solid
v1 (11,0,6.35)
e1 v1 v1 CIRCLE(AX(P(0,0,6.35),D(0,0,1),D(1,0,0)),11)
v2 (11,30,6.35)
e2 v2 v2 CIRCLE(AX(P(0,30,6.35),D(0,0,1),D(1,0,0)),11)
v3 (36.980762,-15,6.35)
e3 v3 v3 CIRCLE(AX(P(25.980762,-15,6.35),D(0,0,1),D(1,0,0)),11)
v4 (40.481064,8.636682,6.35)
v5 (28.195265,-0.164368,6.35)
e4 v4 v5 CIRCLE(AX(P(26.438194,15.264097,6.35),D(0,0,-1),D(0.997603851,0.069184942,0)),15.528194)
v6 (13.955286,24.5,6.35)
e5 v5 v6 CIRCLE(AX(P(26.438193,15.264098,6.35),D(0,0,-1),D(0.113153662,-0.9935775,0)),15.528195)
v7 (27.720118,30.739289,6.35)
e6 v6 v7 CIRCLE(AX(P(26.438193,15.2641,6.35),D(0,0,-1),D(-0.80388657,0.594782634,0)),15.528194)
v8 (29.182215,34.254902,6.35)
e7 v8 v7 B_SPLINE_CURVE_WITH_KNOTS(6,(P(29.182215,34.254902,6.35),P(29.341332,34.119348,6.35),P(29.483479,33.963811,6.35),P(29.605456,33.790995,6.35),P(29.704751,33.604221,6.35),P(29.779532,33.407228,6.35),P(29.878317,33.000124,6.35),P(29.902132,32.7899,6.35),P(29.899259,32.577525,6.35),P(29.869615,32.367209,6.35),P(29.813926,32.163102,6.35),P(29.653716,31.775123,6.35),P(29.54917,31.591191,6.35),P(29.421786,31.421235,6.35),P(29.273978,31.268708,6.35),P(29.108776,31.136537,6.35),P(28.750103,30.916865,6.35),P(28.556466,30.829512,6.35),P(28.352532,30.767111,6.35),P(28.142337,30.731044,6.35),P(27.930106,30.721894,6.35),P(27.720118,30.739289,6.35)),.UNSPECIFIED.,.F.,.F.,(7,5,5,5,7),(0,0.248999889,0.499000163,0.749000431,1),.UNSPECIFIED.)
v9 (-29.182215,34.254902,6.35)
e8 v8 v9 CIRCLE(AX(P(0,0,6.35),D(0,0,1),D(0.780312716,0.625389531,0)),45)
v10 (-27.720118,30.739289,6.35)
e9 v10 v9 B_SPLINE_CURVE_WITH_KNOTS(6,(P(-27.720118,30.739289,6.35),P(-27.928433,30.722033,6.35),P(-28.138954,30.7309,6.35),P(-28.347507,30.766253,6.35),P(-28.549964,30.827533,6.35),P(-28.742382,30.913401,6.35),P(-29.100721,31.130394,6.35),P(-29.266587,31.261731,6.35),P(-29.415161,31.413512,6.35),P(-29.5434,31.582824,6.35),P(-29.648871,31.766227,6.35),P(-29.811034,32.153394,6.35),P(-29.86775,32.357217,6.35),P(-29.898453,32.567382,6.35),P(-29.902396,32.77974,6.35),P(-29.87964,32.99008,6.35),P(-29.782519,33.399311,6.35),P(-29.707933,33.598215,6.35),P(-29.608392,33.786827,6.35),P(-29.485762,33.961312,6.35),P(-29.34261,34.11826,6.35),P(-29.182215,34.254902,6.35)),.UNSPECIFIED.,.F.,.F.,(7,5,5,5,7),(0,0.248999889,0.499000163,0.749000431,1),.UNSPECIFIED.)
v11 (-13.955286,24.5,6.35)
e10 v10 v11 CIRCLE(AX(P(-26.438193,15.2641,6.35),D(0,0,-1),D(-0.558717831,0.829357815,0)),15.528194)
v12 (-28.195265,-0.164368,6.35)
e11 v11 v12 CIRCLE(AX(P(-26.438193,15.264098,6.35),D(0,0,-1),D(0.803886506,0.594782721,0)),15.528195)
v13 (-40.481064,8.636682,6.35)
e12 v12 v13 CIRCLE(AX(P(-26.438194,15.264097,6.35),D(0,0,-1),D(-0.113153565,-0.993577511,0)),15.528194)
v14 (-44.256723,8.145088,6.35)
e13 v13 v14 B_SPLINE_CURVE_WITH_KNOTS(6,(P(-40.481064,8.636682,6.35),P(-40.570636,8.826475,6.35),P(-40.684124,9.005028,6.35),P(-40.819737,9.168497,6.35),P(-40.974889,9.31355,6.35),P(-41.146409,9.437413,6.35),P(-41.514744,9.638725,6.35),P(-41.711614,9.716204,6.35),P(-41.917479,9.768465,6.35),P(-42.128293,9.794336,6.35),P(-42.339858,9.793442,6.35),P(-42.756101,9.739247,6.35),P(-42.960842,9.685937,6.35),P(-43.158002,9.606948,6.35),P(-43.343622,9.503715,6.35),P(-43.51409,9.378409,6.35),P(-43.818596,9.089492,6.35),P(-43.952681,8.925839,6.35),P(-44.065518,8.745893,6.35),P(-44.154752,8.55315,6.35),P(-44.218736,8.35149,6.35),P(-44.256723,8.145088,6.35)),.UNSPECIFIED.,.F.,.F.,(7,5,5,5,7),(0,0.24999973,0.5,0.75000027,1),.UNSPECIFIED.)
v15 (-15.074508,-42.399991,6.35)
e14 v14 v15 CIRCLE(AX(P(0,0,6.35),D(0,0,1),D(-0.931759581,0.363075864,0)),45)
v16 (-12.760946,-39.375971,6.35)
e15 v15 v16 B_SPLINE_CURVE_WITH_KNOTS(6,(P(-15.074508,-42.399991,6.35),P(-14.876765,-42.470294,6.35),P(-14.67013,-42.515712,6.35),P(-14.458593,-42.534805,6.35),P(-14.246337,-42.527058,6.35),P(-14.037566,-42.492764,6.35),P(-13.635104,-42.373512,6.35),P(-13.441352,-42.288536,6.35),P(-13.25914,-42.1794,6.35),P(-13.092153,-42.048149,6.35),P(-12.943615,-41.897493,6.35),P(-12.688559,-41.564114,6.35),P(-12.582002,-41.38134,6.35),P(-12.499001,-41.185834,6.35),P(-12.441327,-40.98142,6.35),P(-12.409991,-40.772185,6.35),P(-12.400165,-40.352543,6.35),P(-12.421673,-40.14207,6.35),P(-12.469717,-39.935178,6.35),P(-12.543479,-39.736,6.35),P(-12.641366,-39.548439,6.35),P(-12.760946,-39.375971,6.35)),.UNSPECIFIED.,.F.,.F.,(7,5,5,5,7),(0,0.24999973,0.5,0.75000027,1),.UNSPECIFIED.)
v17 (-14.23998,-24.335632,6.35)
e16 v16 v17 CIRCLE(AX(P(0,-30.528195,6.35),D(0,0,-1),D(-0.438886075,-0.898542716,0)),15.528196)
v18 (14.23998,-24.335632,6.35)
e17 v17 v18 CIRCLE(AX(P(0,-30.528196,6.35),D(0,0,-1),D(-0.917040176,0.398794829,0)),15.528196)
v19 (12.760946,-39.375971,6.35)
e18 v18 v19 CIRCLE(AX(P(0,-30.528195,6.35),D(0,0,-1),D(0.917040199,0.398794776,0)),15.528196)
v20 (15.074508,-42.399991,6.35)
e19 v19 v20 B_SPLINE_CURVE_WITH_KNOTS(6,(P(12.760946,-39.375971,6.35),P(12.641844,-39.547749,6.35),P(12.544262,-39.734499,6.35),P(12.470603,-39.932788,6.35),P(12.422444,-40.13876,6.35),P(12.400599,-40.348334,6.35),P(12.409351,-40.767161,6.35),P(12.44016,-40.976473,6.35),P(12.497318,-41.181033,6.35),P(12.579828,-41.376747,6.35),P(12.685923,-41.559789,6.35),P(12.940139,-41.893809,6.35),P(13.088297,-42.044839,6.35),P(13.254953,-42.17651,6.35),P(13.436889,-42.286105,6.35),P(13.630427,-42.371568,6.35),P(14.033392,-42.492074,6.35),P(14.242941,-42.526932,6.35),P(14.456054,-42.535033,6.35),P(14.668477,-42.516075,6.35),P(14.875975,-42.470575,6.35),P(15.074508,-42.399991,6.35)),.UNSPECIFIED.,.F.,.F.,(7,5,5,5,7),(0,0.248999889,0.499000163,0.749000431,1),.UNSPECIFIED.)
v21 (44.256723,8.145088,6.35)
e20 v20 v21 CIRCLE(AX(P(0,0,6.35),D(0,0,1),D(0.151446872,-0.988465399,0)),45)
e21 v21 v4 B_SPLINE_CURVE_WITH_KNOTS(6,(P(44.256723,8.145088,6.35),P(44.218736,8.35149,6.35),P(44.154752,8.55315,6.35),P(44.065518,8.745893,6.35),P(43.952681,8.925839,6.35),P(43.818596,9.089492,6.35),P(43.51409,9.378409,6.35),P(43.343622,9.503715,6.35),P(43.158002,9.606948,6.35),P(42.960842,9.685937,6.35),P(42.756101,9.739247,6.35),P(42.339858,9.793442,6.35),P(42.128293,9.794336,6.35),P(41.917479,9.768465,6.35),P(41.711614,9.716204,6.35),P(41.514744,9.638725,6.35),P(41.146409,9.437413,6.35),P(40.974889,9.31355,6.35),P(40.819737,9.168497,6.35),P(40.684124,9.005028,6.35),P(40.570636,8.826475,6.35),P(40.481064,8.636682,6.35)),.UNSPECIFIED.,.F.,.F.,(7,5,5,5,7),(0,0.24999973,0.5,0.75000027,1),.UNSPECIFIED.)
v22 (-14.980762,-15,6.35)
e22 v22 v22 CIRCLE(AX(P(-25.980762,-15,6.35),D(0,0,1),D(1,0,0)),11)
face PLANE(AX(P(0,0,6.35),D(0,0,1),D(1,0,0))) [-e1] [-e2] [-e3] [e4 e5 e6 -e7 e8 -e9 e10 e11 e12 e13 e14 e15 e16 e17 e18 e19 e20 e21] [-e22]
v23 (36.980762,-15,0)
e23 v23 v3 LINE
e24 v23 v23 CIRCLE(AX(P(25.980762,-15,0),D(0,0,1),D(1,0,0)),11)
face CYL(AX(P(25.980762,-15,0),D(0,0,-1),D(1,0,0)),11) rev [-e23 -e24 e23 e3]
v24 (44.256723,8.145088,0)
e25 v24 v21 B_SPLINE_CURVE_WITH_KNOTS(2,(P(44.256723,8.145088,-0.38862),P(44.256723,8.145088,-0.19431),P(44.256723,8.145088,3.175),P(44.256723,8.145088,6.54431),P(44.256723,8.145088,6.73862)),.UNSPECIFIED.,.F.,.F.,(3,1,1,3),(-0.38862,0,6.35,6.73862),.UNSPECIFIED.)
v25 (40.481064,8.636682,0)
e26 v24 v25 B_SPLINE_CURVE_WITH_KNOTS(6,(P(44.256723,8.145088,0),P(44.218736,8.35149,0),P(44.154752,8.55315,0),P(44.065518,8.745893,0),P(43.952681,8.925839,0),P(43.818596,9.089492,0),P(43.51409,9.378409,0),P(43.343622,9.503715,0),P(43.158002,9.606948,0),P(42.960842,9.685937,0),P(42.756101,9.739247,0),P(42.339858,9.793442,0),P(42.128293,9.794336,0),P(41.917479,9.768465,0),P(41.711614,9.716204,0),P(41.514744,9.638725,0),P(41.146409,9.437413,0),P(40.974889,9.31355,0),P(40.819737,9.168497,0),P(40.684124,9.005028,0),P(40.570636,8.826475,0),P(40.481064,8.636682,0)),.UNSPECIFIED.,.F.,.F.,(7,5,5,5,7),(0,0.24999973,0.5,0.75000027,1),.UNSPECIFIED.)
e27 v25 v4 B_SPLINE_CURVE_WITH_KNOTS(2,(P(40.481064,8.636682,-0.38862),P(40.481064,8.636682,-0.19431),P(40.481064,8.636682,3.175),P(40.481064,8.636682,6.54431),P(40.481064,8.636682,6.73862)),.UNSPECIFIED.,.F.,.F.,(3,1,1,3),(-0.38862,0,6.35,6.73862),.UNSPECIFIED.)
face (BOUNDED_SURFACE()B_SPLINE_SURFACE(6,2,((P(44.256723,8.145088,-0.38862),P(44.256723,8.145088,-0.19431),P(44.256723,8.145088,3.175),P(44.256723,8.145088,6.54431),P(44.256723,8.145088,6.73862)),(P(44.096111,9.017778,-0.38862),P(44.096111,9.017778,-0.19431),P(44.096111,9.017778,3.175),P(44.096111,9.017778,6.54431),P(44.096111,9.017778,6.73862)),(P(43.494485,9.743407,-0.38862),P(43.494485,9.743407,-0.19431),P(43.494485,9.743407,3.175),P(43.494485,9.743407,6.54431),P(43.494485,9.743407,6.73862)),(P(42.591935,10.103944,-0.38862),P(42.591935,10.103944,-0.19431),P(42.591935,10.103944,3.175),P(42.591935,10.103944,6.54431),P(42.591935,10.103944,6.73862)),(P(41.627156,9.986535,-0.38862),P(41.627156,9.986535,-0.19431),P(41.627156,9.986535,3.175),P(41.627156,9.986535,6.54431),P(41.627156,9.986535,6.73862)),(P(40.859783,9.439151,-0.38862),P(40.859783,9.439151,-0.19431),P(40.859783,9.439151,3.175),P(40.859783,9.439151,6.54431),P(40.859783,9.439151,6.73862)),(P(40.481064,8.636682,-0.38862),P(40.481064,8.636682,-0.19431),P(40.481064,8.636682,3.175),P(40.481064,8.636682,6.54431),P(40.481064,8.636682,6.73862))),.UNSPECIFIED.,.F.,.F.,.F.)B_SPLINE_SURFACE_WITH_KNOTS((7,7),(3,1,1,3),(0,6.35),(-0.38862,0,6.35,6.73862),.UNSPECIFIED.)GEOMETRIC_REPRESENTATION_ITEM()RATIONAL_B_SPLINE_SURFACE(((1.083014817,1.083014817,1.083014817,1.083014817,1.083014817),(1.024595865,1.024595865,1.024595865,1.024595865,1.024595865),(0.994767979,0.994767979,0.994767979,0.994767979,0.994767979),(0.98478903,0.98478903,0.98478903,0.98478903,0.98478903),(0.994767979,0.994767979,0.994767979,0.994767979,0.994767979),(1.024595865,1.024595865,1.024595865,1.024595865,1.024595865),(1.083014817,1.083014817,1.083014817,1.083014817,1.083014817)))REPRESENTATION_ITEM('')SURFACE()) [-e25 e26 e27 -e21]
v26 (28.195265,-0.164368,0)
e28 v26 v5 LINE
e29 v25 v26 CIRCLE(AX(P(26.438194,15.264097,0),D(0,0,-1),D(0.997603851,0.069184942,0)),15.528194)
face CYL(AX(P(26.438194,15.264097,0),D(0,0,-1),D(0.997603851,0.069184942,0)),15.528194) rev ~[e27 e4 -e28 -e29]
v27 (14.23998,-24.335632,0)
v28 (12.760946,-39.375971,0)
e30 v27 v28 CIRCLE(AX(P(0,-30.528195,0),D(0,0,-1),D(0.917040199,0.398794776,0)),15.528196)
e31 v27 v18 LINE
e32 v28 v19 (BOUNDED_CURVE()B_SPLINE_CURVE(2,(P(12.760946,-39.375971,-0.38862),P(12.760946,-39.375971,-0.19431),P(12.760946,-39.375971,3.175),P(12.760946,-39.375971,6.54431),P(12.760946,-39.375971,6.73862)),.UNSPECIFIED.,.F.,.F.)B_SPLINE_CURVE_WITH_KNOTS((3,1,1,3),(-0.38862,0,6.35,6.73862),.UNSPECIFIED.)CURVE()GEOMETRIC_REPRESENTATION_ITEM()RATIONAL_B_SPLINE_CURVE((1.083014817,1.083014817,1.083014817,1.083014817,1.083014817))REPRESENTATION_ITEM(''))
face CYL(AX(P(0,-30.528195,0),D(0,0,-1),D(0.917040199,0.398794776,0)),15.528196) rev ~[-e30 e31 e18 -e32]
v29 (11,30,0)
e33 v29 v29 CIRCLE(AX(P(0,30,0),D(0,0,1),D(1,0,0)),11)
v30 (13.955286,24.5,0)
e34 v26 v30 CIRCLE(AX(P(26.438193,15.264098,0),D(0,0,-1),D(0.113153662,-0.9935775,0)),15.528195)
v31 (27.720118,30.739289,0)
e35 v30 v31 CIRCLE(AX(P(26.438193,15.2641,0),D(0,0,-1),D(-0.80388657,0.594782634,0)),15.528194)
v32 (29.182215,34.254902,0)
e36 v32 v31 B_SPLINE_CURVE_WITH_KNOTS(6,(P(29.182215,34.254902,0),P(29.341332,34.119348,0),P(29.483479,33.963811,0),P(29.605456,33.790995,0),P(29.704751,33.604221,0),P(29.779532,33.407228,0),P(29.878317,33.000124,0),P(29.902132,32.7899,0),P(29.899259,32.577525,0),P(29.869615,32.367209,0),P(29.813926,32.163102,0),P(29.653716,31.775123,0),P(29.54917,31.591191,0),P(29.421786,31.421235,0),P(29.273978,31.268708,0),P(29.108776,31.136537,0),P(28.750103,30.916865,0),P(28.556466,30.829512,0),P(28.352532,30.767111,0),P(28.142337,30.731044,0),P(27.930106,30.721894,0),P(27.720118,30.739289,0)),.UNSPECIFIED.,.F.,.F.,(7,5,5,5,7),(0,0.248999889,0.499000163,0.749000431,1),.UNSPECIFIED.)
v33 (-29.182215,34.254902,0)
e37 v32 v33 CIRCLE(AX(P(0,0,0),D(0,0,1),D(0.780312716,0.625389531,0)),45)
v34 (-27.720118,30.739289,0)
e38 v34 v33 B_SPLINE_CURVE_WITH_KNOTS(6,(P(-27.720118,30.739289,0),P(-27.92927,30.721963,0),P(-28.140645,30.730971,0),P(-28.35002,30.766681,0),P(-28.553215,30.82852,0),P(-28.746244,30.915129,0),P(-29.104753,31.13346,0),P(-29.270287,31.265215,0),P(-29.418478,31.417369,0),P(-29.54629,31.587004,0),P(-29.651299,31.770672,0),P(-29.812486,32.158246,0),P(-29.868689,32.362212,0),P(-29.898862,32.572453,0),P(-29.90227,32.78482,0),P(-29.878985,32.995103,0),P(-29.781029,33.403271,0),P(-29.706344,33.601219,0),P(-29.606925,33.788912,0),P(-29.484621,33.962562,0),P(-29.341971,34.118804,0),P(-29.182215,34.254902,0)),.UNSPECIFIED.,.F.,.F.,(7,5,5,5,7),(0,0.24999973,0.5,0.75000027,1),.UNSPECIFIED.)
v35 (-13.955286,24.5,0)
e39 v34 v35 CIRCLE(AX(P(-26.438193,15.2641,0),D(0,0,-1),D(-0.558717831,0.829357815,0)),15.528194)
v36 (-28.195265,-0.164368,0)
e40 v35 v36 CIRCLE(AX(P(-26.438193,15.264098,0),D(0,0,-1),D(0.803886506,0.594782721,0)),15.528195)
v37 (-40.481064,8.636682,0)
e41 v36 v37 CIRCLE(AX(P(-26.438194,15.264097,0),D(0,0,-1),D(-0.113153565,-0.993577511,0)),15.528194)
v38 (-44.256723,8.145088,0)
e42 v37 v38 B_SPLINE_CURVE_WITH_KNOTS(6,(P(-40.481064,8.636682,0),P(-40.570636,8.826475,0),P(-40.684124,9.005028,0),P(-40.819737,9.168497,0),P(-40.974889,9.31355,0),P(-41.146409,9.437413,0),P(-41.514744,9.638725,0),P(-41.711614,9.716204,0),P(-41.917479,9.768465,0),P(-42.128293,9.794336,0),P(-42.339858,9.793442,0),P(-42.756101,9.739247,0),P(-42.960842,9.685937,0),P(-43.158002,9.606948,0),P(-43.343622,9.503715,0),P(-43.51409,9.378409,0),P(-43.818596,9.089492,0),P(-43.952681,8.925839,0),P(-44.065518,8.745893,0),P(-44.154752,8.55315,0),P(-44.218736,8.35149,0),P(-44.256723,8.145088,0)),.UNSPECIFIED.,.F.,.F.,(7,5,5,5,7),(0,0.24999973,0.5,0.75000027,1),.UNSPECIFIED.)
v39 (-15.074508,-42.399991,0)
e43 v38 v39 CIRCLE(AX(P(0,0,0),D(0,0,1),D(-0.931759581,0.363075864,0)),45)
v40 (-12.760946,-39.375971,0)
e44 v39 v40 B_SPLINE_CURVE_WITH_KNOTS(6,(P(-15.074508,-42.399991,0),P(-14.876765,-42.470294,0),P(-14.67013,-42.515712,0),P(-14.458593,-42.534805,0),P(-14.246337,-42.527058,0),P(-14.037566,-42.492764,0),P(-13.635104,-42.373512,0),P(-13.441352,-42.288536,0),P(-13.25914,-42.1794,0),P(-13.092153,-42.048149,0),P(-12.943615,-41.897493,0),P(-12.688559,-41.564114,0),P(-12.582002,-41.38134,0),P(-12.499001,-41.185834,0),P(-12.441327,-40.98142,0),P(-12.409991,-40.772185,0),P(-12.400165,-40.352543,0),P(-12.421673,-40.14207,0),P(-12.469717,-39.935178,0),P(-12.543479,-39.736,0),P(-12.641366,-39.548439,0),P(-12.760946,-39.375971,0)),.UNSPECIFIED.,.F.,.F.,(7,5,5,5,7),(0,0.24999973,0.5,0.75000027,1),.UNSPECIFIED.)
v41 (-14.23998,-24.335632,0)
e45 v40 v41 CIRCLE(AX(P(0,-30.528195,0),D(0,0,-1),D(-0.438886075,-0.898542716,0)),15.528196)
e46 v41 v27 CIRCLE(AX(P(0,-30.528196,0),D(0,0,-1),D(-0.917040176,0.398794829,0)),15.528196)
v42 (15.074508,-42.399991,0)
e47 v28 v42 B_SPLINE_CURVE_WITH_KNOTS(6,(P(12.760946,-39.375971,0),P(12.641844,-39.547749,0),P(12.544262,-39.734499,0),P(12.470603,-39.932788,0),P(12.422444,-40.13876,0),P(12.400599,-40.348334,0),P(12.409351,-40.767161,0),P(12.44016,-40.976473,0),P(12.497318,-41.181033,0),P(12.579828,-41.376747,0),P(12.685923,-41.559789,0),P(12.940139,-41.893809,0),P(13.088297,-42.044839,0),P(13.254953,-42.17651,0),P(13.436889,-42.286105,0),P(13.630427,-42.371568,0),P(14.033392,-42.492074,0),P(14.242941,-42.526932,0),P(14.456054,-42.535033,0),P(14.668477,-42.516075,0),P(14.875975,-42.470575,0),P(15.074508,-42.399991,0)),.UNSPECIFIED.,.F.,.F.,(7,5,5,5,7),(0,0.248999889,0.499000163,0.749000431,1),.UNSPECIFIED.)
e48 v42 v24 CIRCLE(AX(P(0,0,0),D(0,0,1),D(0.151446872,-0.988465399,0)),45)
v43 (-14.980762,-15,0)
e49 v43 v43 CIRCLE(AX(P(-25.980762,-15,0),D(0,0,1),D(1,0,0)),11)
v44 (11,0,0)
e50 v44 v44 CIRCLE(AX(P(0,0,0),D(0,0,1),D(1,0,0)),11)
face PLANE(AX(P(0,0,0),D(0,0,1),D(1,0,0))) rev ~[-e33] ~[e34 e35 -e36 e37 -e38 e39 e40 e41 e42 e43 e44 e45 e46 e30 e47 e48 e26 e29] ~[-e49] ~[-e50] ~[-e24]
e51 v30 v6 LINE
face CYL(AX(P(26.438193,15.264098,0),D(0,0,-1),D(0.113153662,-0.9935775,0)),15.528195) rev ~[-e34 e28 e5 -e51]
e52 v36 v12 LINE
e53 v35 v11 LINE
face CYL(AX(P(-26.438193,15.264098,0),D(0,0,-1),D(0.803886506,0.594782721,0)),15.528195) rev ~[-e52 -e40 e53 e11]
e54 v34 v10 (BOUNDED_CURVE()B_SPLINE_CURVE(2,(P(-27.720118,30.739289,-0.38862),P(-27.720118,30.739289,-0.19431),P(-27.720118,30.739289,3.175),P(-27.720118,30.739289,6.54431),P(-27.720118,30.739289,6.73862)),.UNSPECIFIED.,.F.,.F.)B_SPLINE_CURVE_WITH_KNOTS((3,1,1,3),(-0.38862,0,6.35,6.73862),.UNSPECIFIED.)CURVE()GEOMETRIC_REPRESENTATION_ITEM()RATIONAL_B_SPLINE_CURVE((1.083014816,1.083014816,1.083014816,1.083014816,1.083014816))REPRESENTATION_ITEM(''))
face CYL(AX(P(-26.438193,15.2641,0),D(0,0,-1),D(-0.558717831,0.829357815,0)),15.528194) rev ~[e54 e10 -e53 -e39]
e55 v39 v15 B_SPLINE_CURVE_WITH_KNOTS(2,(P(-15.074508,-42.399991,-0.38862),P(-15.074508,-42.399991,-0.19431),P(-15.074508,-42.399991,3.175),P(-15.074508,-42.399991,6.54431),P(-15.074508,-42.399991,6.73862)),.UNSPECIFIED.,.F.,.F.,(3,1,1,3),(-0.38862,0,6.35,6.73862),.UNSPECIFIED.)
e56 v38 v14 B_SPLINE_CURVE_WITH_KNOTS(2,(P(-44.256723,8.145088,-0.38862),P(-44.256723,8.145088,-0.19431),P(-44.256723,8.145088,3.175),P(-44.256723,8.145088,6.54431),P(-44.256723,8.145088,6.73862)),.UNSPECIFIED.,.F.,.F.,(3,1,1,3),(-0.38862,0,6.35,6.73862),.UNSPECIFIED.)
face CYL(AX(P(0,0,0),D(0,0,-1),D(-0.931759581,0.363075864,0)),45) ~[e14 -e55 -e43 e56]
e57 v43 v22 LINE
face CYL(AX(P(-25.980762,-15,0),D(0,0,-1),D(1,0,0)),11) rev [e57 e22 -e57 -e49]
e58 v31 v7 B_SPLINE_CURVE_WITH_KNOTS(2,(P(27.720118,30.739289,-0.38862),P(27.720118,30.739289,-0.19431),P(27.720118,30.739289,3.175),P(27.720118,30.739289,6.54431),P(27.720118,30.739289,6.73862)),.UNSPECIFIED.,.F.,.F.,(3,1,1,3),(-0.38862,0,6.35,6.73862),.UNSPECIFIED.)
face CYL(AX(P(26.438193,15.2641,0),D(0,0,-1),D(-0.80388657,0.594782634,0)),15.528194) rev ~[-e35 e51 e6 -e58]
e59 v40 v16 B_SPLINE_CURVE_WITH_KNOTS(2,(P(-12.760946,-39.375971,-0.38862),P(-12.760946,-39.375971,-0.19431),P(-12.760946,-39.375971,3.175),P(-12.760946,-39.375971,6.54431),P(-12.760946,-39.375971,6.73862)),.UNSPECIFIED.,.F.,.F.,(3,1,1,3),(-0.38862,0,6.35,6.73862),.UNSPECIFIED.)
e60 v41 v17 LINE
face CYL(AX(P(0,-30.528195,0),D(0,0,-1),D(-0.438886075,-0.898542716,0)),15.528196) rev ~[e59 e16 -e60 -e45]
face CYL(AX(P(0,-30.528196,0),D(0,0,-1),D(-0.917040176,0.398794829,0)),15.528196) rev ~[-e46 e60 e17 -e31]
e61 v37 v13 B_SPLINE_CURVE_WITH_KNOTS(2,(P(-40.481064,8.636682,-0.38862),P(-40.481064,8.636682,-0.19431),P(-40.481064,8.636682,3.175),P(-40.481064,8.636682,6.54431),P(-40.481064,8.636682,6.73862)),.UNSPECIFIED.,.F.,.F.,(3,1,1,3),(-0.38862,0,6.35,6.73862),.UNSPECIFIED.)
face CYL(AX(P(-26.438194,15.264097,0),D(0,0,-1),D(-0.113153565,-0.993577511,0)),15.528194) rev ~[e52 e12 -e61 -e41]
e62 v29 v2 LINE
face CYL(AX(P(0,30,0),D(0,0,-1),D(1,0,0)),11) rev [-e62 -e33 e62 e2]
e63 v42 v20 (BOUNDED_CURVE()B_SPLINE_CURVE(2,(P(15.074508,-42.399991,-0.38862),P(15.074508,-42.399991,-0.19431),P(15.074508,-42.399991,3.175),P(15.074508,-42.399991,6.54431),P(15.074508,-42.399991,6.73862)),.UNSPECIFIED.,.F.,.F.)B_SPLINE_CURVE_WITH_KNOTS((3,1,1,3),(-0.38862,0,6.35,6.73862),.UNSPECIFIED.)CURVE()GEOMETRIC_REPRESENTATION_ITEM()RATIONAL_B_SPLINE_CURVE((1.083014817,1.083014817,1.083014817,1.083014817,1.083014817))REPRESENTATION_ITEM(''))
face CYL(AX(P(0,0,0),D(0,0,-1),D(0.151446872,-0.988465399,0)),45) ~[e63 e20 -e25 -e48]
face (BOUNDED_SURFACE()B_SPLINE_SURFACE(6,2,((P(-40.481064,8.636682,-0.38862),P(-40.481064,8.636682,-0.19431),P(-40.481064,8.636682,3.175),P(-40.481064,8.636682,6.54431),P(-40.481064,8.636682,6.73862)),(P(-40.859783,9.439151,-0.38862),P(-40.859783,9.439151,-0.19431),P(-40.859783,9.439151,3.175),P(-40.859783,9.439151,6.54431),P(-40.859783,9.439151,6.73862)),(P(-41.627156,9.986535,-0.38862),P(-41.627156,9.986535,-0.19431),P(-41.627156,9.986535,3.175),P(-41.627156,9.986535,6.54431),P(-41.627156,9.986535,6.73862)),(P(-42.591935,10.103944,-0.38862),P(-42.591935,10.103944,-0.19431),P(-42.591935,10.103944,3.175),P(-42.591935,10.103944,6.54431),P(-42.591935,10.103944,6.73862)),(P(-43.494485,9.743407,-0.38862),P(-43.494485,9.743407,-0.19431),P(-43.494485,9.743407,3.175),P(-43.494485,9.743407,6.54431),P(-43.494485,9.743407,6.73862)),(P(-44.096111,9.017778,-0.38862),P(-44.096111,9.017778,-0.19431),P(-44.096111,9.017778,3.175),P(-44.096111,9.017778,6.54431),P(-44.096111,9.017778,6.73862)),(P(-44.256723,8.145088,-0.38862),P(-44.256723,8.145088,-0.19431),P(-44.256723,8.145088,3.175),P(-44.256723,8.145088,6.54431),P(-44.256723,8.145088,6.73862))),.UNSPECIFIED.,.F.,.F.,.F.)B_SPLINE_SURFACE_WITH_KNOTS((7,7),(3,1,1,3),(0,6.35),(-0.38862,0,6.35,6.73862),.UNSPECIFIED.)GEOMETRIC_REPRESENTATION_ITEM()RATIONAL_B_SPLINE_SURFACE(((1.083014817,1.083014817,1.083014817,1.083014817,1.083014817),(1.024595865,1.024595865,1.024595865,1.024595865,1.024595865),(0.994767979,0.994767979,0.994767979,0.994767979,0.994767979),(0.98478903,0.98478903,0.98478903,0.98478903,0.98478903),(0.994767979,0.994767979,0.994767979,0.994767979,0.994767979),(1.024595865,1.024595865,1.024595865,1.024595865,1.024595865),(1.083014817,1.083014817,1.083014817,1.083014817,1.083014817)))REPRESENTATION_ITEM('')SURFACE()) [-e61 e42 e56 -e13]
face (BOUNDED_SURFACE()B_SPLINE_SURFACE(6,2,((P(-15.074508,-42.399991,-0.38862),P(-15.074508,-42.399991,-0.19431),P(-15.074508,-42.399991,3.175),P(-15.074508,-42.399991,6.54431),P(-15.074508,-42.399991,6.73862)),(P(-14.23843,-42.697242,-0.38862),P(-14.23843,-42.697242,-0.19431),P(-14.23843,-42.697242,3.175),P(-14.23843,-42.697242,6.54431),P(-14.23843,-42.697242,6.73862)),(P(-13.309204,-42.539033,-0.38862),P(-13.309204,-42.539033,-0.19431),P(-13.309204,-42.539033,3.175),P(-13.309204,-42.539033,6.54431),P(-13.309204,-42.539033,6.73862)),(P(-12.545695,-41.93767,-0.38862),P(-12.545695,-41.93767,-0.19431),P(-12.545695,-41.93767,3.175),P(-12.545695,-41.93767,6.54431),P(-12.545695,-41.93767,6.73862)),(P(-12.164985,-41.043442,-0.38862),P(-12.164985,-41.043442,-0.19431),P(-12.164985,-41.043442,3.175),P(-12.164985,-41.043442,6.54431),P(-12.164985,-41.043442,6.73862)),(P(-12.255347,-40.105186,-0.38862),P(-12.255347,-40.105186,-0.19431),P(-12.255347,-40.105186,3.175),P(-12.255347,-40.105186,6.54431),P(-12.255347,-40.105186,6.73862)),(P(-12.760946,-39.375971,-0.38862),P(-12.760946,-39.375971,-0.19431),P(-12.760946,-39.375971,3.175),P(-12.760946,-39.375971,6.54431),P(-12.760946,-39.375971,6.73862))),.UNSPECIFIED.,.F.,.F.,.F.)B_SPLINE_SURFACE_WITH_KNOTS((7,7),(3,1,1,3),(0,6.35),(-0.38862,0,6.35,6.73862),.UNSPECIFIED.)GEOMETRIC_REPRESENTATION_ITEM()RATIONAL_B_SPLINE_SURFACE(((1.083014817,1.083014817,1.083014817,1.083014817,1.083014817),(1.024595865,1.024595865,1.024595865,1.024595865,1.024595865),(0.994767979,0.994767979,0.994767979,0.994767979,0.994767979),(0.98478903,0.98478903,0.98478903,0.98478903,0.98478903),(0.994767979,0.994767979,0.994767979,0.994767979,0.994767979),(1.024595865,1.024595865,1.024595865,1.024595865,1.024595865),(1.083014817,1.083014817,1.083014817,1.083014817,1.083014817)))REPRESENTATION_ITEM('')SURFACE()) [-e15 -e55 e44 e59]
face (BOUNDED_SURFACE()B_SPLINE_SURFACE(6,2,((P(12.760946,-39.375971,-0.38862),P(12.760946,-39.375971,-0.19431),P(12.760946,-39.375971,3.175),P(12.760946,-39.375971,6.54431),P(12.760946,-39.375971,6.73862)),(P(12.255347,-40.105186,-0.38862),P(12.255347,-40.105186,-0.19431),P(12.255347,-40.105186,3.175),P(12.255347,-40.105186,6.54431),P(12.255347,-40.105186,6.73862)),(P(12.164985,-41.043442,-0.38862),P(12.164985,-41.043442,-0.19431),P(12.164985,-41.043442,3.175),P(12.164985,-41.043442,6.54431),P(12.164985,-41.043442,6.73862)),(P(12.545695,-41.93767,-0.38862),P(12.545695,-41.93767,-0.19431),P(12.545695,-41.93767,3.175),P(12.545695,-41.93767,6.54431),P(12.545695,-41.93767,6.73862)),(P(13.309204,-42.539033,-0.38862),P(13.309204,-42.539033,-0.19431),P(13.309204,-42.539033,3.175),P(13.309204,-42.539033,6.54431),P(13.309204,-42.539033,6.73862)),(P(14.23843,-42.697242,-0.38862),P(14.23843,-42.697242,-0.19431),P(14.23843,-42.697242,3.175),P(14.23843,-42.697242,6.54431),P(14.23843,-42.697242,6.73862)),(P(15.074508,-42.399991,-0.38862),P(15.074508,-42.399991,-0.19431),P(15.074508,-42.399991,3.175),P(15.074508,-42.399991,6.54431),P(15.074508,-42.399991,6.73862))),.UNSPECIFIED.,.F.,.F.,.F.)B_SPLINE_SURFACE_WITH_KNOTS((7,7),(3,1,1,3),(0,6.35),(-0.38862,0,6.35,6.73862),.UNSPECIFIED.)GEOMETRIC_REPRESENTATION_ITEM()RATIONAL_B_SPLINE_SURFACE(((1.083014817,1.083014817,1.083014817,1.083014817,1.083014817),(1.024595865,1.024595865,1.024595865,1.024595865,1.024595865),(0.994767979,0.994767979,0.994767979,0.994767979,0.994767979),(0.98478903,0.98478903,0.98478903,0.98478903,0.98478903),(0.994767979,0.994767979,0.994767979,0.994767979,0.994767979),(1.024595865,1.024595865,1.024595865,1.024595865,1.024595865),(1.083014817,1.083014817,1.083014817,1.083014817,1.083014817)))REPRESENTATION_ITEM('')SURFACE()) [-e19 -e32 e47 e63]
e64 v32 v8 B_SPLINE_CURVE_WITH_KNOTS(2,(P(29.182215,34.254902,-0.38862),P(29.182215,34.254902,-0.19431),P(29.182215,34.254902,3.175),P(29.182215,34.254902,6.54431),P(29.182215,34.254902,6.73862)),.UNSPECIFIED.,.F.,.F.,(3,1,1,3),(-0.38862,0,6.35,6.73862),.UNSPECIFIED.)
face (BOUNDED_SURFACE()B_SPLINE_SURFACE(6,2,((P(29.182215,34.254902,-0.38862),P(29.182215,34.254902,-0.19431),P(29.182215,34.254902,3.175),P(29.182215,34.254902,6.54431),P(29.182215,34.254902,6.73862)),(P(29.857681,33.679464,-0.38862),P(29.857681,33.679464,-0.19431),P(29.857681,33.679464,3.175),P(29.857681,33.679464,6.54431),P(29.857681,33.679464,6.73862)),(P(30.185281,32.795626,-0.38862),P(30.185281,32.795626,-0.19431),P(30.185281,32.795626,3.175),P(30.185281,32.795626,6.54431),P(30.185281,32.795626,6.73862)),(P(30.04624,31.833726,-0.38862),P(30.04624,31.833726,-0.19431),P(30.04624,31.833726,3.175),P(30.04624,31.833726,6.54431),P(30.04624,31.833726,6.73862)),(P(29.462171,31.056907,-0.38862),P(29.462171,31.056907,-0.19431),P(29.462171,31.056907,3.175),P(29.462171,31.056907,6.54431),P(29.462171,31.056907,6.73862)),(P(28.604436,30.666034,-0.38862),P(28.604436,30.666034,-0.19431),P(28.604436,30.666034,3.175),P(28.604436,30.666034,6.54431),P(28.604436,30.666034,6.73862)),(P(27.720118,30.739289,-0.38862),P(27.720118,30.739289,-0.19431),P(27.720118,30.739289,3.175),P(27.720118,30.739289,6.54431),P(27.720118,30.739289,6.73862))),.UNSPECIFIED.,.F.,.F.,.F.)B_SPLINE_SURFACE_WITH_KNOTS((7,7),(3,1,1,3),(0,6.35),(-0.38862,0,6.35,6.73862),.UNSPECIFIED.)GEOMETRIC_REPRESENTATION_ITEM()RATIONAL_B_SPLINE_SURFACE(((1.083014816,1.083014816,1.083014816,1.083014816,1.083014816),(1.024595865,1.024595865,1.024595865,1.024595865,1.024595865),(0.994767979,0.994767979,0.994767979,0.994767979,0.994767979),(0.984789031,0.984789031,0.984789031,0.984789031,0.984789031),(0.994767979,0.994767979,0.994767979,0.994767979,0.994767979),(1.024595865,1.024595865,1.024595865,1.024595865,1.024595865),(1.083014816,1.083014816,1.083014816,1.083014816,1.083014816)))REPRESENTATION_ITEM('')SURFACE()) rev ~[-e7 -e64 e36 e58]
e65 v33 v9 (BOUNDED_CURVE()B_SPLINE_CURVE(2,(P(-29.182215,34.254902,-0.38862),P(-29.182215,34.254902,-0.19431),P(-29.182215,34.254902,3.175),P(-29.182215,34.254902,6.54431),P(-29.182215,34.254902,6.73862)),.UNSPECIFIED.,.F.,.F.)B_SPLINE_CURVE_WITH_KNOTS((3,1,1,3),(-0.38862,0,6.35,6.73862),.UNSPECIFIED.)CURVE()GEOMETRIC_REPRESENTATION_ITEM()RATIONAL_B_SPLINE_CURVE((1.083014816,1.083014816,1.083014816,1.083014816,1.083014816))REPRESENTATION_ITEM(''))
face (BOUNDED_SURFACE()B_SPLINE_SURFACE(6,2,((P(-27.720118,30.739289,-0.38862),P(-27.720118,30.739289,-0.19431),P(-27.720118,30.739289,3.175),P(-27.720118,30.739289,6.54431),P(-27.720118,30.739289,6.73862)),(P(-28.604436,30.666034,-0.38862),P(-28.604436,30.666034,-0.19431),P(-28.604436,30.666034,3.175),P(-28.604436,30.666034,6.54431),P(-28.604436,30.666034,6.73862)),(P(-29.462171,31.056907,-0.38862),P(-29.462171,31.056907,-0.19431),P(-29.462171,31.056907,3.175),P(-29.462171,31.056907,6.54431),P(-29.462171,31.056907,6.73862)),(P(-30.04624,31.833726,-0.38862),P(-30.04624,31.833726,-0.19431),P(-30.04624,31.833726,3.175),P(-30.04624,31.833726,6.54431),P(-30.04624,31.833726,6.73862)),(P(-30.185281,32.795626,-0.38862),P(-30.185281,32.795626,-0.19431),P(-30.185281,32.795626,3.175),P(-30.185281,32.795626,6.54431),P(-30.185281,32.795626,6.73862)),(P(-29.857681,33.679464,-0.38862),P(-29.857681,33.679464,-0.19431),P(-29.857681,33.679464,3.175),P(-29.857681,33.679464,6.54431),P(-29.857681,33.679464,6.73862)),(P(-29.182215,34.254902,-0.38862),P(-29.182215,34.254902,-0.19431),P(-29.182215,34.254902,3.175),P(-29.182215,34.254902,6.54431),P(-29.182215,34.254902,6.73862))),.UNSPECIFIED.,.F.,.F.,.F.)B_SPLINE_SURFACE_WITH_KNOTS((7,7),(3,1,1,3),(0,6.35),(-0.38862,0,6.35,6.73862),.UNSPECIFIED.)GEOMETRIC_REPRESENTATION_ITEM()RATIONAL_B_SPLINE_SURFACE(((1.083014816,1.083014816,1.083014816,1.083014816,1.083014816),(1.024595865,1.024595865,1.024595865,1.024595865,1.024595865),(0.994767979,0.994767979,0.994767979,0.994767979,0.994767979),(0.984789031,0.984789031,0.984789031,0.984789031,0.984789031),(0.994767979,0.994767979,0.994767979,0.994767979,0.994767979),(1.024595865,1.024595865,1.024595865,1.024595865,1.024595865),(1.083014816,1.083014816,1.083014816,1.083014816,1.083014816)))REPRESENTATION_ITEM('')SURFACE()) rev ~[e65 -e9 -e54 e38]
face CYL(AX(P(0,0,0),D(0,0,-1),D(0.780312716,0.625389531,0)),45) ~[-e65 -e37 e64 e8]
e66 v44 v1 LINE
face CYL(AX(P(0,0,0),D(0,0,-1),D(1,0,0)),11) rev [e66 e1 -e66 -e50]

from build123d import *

# Parameters (mm, degrees)
F0_R     = 11
F1_DEPTH = 6.35
F2_R     = 2


with BuildPart() as f1:
    # F0 (on Top) → F1 (new body)
    with BuildSketch(Plane.XY):
        with BuildLine():
            ThreePointArc((-28.195265, -0.164368), (-38.373827, 5.331046), (-41.929181, 16.338414))
            ThreePointArc((-41.929181, 16.338414), (-38.971143, -22.5), (-6.815109, -44.480943))
            ThreePointArc((-6.815109, -44.480943), (-14.570092, -35.898232), (-14.23998, -24.335632))
            ThreePointArc((-14.23998, -24.335632), (0, -15), (14.23998, -24.335632))
            ThreePointArc((14.23998, -24.335632), (14.570092, -35.898232), (6.815109, -44.480943))
            ThreePointArc((6.815109, -44.480943), (38.971143, -22.5), (41.929181, 16.338414))
            ThreePointArc((41.929181, 16.338414), (38.373827, 5.331046), (28.195265, -0.164368))
            ThreePointArc((28.195265, -0.164368), (12.990381, 7.5), (13.955286, 24.5))
            ThreePointArc((13.955286, 24.5), (23.803735, 30.567186), (35.114072, 28.142529))
            ThreePointArc((35.114072, 28.142529), (0, 45), (-35.114072, 28.142529))
            ThreePointArc((-35.114072, 28.142529), (-23.803735, 30.567186), (-13.955286, 24.5))
            ThreePointArc((-13.955286, 24.5), (-12.990381, 7.5), (-28.195265, -0.164368))
        make_face()
        with Locations((-25.980762, -15)):
            Circle(F0_R, mode=Mode.SUBTRACT)
        Circle(F0_R, mode=Mode.SUBTRACT)
        with Locations((25.980762, -15)):
            Circle(F0_R, mode=Mode.SUBTRACT)
        with Locations((0, 30)):
            Circle(F0_R, mode=Mode.SUBTRACT)
    extrude(amount=F1_DEPTH)

    # F2
    f2_edges = [f1.edges().sort_by_distance(p)[0] for p in [
        (6.815109, -44.480943, 3.175),
        (-6.815109, -44.480943, 3.175),
        (-41.929181, 16.338414, 3.175),
        (-35.114072, 28.142529, 3.175),
        (35.114072, 28.142529, 3.175),
        (41.929181, 16.338414, 3.175),
    ]]
    fillet(f2_edges, radius=F2_R)


solid = f1.part
